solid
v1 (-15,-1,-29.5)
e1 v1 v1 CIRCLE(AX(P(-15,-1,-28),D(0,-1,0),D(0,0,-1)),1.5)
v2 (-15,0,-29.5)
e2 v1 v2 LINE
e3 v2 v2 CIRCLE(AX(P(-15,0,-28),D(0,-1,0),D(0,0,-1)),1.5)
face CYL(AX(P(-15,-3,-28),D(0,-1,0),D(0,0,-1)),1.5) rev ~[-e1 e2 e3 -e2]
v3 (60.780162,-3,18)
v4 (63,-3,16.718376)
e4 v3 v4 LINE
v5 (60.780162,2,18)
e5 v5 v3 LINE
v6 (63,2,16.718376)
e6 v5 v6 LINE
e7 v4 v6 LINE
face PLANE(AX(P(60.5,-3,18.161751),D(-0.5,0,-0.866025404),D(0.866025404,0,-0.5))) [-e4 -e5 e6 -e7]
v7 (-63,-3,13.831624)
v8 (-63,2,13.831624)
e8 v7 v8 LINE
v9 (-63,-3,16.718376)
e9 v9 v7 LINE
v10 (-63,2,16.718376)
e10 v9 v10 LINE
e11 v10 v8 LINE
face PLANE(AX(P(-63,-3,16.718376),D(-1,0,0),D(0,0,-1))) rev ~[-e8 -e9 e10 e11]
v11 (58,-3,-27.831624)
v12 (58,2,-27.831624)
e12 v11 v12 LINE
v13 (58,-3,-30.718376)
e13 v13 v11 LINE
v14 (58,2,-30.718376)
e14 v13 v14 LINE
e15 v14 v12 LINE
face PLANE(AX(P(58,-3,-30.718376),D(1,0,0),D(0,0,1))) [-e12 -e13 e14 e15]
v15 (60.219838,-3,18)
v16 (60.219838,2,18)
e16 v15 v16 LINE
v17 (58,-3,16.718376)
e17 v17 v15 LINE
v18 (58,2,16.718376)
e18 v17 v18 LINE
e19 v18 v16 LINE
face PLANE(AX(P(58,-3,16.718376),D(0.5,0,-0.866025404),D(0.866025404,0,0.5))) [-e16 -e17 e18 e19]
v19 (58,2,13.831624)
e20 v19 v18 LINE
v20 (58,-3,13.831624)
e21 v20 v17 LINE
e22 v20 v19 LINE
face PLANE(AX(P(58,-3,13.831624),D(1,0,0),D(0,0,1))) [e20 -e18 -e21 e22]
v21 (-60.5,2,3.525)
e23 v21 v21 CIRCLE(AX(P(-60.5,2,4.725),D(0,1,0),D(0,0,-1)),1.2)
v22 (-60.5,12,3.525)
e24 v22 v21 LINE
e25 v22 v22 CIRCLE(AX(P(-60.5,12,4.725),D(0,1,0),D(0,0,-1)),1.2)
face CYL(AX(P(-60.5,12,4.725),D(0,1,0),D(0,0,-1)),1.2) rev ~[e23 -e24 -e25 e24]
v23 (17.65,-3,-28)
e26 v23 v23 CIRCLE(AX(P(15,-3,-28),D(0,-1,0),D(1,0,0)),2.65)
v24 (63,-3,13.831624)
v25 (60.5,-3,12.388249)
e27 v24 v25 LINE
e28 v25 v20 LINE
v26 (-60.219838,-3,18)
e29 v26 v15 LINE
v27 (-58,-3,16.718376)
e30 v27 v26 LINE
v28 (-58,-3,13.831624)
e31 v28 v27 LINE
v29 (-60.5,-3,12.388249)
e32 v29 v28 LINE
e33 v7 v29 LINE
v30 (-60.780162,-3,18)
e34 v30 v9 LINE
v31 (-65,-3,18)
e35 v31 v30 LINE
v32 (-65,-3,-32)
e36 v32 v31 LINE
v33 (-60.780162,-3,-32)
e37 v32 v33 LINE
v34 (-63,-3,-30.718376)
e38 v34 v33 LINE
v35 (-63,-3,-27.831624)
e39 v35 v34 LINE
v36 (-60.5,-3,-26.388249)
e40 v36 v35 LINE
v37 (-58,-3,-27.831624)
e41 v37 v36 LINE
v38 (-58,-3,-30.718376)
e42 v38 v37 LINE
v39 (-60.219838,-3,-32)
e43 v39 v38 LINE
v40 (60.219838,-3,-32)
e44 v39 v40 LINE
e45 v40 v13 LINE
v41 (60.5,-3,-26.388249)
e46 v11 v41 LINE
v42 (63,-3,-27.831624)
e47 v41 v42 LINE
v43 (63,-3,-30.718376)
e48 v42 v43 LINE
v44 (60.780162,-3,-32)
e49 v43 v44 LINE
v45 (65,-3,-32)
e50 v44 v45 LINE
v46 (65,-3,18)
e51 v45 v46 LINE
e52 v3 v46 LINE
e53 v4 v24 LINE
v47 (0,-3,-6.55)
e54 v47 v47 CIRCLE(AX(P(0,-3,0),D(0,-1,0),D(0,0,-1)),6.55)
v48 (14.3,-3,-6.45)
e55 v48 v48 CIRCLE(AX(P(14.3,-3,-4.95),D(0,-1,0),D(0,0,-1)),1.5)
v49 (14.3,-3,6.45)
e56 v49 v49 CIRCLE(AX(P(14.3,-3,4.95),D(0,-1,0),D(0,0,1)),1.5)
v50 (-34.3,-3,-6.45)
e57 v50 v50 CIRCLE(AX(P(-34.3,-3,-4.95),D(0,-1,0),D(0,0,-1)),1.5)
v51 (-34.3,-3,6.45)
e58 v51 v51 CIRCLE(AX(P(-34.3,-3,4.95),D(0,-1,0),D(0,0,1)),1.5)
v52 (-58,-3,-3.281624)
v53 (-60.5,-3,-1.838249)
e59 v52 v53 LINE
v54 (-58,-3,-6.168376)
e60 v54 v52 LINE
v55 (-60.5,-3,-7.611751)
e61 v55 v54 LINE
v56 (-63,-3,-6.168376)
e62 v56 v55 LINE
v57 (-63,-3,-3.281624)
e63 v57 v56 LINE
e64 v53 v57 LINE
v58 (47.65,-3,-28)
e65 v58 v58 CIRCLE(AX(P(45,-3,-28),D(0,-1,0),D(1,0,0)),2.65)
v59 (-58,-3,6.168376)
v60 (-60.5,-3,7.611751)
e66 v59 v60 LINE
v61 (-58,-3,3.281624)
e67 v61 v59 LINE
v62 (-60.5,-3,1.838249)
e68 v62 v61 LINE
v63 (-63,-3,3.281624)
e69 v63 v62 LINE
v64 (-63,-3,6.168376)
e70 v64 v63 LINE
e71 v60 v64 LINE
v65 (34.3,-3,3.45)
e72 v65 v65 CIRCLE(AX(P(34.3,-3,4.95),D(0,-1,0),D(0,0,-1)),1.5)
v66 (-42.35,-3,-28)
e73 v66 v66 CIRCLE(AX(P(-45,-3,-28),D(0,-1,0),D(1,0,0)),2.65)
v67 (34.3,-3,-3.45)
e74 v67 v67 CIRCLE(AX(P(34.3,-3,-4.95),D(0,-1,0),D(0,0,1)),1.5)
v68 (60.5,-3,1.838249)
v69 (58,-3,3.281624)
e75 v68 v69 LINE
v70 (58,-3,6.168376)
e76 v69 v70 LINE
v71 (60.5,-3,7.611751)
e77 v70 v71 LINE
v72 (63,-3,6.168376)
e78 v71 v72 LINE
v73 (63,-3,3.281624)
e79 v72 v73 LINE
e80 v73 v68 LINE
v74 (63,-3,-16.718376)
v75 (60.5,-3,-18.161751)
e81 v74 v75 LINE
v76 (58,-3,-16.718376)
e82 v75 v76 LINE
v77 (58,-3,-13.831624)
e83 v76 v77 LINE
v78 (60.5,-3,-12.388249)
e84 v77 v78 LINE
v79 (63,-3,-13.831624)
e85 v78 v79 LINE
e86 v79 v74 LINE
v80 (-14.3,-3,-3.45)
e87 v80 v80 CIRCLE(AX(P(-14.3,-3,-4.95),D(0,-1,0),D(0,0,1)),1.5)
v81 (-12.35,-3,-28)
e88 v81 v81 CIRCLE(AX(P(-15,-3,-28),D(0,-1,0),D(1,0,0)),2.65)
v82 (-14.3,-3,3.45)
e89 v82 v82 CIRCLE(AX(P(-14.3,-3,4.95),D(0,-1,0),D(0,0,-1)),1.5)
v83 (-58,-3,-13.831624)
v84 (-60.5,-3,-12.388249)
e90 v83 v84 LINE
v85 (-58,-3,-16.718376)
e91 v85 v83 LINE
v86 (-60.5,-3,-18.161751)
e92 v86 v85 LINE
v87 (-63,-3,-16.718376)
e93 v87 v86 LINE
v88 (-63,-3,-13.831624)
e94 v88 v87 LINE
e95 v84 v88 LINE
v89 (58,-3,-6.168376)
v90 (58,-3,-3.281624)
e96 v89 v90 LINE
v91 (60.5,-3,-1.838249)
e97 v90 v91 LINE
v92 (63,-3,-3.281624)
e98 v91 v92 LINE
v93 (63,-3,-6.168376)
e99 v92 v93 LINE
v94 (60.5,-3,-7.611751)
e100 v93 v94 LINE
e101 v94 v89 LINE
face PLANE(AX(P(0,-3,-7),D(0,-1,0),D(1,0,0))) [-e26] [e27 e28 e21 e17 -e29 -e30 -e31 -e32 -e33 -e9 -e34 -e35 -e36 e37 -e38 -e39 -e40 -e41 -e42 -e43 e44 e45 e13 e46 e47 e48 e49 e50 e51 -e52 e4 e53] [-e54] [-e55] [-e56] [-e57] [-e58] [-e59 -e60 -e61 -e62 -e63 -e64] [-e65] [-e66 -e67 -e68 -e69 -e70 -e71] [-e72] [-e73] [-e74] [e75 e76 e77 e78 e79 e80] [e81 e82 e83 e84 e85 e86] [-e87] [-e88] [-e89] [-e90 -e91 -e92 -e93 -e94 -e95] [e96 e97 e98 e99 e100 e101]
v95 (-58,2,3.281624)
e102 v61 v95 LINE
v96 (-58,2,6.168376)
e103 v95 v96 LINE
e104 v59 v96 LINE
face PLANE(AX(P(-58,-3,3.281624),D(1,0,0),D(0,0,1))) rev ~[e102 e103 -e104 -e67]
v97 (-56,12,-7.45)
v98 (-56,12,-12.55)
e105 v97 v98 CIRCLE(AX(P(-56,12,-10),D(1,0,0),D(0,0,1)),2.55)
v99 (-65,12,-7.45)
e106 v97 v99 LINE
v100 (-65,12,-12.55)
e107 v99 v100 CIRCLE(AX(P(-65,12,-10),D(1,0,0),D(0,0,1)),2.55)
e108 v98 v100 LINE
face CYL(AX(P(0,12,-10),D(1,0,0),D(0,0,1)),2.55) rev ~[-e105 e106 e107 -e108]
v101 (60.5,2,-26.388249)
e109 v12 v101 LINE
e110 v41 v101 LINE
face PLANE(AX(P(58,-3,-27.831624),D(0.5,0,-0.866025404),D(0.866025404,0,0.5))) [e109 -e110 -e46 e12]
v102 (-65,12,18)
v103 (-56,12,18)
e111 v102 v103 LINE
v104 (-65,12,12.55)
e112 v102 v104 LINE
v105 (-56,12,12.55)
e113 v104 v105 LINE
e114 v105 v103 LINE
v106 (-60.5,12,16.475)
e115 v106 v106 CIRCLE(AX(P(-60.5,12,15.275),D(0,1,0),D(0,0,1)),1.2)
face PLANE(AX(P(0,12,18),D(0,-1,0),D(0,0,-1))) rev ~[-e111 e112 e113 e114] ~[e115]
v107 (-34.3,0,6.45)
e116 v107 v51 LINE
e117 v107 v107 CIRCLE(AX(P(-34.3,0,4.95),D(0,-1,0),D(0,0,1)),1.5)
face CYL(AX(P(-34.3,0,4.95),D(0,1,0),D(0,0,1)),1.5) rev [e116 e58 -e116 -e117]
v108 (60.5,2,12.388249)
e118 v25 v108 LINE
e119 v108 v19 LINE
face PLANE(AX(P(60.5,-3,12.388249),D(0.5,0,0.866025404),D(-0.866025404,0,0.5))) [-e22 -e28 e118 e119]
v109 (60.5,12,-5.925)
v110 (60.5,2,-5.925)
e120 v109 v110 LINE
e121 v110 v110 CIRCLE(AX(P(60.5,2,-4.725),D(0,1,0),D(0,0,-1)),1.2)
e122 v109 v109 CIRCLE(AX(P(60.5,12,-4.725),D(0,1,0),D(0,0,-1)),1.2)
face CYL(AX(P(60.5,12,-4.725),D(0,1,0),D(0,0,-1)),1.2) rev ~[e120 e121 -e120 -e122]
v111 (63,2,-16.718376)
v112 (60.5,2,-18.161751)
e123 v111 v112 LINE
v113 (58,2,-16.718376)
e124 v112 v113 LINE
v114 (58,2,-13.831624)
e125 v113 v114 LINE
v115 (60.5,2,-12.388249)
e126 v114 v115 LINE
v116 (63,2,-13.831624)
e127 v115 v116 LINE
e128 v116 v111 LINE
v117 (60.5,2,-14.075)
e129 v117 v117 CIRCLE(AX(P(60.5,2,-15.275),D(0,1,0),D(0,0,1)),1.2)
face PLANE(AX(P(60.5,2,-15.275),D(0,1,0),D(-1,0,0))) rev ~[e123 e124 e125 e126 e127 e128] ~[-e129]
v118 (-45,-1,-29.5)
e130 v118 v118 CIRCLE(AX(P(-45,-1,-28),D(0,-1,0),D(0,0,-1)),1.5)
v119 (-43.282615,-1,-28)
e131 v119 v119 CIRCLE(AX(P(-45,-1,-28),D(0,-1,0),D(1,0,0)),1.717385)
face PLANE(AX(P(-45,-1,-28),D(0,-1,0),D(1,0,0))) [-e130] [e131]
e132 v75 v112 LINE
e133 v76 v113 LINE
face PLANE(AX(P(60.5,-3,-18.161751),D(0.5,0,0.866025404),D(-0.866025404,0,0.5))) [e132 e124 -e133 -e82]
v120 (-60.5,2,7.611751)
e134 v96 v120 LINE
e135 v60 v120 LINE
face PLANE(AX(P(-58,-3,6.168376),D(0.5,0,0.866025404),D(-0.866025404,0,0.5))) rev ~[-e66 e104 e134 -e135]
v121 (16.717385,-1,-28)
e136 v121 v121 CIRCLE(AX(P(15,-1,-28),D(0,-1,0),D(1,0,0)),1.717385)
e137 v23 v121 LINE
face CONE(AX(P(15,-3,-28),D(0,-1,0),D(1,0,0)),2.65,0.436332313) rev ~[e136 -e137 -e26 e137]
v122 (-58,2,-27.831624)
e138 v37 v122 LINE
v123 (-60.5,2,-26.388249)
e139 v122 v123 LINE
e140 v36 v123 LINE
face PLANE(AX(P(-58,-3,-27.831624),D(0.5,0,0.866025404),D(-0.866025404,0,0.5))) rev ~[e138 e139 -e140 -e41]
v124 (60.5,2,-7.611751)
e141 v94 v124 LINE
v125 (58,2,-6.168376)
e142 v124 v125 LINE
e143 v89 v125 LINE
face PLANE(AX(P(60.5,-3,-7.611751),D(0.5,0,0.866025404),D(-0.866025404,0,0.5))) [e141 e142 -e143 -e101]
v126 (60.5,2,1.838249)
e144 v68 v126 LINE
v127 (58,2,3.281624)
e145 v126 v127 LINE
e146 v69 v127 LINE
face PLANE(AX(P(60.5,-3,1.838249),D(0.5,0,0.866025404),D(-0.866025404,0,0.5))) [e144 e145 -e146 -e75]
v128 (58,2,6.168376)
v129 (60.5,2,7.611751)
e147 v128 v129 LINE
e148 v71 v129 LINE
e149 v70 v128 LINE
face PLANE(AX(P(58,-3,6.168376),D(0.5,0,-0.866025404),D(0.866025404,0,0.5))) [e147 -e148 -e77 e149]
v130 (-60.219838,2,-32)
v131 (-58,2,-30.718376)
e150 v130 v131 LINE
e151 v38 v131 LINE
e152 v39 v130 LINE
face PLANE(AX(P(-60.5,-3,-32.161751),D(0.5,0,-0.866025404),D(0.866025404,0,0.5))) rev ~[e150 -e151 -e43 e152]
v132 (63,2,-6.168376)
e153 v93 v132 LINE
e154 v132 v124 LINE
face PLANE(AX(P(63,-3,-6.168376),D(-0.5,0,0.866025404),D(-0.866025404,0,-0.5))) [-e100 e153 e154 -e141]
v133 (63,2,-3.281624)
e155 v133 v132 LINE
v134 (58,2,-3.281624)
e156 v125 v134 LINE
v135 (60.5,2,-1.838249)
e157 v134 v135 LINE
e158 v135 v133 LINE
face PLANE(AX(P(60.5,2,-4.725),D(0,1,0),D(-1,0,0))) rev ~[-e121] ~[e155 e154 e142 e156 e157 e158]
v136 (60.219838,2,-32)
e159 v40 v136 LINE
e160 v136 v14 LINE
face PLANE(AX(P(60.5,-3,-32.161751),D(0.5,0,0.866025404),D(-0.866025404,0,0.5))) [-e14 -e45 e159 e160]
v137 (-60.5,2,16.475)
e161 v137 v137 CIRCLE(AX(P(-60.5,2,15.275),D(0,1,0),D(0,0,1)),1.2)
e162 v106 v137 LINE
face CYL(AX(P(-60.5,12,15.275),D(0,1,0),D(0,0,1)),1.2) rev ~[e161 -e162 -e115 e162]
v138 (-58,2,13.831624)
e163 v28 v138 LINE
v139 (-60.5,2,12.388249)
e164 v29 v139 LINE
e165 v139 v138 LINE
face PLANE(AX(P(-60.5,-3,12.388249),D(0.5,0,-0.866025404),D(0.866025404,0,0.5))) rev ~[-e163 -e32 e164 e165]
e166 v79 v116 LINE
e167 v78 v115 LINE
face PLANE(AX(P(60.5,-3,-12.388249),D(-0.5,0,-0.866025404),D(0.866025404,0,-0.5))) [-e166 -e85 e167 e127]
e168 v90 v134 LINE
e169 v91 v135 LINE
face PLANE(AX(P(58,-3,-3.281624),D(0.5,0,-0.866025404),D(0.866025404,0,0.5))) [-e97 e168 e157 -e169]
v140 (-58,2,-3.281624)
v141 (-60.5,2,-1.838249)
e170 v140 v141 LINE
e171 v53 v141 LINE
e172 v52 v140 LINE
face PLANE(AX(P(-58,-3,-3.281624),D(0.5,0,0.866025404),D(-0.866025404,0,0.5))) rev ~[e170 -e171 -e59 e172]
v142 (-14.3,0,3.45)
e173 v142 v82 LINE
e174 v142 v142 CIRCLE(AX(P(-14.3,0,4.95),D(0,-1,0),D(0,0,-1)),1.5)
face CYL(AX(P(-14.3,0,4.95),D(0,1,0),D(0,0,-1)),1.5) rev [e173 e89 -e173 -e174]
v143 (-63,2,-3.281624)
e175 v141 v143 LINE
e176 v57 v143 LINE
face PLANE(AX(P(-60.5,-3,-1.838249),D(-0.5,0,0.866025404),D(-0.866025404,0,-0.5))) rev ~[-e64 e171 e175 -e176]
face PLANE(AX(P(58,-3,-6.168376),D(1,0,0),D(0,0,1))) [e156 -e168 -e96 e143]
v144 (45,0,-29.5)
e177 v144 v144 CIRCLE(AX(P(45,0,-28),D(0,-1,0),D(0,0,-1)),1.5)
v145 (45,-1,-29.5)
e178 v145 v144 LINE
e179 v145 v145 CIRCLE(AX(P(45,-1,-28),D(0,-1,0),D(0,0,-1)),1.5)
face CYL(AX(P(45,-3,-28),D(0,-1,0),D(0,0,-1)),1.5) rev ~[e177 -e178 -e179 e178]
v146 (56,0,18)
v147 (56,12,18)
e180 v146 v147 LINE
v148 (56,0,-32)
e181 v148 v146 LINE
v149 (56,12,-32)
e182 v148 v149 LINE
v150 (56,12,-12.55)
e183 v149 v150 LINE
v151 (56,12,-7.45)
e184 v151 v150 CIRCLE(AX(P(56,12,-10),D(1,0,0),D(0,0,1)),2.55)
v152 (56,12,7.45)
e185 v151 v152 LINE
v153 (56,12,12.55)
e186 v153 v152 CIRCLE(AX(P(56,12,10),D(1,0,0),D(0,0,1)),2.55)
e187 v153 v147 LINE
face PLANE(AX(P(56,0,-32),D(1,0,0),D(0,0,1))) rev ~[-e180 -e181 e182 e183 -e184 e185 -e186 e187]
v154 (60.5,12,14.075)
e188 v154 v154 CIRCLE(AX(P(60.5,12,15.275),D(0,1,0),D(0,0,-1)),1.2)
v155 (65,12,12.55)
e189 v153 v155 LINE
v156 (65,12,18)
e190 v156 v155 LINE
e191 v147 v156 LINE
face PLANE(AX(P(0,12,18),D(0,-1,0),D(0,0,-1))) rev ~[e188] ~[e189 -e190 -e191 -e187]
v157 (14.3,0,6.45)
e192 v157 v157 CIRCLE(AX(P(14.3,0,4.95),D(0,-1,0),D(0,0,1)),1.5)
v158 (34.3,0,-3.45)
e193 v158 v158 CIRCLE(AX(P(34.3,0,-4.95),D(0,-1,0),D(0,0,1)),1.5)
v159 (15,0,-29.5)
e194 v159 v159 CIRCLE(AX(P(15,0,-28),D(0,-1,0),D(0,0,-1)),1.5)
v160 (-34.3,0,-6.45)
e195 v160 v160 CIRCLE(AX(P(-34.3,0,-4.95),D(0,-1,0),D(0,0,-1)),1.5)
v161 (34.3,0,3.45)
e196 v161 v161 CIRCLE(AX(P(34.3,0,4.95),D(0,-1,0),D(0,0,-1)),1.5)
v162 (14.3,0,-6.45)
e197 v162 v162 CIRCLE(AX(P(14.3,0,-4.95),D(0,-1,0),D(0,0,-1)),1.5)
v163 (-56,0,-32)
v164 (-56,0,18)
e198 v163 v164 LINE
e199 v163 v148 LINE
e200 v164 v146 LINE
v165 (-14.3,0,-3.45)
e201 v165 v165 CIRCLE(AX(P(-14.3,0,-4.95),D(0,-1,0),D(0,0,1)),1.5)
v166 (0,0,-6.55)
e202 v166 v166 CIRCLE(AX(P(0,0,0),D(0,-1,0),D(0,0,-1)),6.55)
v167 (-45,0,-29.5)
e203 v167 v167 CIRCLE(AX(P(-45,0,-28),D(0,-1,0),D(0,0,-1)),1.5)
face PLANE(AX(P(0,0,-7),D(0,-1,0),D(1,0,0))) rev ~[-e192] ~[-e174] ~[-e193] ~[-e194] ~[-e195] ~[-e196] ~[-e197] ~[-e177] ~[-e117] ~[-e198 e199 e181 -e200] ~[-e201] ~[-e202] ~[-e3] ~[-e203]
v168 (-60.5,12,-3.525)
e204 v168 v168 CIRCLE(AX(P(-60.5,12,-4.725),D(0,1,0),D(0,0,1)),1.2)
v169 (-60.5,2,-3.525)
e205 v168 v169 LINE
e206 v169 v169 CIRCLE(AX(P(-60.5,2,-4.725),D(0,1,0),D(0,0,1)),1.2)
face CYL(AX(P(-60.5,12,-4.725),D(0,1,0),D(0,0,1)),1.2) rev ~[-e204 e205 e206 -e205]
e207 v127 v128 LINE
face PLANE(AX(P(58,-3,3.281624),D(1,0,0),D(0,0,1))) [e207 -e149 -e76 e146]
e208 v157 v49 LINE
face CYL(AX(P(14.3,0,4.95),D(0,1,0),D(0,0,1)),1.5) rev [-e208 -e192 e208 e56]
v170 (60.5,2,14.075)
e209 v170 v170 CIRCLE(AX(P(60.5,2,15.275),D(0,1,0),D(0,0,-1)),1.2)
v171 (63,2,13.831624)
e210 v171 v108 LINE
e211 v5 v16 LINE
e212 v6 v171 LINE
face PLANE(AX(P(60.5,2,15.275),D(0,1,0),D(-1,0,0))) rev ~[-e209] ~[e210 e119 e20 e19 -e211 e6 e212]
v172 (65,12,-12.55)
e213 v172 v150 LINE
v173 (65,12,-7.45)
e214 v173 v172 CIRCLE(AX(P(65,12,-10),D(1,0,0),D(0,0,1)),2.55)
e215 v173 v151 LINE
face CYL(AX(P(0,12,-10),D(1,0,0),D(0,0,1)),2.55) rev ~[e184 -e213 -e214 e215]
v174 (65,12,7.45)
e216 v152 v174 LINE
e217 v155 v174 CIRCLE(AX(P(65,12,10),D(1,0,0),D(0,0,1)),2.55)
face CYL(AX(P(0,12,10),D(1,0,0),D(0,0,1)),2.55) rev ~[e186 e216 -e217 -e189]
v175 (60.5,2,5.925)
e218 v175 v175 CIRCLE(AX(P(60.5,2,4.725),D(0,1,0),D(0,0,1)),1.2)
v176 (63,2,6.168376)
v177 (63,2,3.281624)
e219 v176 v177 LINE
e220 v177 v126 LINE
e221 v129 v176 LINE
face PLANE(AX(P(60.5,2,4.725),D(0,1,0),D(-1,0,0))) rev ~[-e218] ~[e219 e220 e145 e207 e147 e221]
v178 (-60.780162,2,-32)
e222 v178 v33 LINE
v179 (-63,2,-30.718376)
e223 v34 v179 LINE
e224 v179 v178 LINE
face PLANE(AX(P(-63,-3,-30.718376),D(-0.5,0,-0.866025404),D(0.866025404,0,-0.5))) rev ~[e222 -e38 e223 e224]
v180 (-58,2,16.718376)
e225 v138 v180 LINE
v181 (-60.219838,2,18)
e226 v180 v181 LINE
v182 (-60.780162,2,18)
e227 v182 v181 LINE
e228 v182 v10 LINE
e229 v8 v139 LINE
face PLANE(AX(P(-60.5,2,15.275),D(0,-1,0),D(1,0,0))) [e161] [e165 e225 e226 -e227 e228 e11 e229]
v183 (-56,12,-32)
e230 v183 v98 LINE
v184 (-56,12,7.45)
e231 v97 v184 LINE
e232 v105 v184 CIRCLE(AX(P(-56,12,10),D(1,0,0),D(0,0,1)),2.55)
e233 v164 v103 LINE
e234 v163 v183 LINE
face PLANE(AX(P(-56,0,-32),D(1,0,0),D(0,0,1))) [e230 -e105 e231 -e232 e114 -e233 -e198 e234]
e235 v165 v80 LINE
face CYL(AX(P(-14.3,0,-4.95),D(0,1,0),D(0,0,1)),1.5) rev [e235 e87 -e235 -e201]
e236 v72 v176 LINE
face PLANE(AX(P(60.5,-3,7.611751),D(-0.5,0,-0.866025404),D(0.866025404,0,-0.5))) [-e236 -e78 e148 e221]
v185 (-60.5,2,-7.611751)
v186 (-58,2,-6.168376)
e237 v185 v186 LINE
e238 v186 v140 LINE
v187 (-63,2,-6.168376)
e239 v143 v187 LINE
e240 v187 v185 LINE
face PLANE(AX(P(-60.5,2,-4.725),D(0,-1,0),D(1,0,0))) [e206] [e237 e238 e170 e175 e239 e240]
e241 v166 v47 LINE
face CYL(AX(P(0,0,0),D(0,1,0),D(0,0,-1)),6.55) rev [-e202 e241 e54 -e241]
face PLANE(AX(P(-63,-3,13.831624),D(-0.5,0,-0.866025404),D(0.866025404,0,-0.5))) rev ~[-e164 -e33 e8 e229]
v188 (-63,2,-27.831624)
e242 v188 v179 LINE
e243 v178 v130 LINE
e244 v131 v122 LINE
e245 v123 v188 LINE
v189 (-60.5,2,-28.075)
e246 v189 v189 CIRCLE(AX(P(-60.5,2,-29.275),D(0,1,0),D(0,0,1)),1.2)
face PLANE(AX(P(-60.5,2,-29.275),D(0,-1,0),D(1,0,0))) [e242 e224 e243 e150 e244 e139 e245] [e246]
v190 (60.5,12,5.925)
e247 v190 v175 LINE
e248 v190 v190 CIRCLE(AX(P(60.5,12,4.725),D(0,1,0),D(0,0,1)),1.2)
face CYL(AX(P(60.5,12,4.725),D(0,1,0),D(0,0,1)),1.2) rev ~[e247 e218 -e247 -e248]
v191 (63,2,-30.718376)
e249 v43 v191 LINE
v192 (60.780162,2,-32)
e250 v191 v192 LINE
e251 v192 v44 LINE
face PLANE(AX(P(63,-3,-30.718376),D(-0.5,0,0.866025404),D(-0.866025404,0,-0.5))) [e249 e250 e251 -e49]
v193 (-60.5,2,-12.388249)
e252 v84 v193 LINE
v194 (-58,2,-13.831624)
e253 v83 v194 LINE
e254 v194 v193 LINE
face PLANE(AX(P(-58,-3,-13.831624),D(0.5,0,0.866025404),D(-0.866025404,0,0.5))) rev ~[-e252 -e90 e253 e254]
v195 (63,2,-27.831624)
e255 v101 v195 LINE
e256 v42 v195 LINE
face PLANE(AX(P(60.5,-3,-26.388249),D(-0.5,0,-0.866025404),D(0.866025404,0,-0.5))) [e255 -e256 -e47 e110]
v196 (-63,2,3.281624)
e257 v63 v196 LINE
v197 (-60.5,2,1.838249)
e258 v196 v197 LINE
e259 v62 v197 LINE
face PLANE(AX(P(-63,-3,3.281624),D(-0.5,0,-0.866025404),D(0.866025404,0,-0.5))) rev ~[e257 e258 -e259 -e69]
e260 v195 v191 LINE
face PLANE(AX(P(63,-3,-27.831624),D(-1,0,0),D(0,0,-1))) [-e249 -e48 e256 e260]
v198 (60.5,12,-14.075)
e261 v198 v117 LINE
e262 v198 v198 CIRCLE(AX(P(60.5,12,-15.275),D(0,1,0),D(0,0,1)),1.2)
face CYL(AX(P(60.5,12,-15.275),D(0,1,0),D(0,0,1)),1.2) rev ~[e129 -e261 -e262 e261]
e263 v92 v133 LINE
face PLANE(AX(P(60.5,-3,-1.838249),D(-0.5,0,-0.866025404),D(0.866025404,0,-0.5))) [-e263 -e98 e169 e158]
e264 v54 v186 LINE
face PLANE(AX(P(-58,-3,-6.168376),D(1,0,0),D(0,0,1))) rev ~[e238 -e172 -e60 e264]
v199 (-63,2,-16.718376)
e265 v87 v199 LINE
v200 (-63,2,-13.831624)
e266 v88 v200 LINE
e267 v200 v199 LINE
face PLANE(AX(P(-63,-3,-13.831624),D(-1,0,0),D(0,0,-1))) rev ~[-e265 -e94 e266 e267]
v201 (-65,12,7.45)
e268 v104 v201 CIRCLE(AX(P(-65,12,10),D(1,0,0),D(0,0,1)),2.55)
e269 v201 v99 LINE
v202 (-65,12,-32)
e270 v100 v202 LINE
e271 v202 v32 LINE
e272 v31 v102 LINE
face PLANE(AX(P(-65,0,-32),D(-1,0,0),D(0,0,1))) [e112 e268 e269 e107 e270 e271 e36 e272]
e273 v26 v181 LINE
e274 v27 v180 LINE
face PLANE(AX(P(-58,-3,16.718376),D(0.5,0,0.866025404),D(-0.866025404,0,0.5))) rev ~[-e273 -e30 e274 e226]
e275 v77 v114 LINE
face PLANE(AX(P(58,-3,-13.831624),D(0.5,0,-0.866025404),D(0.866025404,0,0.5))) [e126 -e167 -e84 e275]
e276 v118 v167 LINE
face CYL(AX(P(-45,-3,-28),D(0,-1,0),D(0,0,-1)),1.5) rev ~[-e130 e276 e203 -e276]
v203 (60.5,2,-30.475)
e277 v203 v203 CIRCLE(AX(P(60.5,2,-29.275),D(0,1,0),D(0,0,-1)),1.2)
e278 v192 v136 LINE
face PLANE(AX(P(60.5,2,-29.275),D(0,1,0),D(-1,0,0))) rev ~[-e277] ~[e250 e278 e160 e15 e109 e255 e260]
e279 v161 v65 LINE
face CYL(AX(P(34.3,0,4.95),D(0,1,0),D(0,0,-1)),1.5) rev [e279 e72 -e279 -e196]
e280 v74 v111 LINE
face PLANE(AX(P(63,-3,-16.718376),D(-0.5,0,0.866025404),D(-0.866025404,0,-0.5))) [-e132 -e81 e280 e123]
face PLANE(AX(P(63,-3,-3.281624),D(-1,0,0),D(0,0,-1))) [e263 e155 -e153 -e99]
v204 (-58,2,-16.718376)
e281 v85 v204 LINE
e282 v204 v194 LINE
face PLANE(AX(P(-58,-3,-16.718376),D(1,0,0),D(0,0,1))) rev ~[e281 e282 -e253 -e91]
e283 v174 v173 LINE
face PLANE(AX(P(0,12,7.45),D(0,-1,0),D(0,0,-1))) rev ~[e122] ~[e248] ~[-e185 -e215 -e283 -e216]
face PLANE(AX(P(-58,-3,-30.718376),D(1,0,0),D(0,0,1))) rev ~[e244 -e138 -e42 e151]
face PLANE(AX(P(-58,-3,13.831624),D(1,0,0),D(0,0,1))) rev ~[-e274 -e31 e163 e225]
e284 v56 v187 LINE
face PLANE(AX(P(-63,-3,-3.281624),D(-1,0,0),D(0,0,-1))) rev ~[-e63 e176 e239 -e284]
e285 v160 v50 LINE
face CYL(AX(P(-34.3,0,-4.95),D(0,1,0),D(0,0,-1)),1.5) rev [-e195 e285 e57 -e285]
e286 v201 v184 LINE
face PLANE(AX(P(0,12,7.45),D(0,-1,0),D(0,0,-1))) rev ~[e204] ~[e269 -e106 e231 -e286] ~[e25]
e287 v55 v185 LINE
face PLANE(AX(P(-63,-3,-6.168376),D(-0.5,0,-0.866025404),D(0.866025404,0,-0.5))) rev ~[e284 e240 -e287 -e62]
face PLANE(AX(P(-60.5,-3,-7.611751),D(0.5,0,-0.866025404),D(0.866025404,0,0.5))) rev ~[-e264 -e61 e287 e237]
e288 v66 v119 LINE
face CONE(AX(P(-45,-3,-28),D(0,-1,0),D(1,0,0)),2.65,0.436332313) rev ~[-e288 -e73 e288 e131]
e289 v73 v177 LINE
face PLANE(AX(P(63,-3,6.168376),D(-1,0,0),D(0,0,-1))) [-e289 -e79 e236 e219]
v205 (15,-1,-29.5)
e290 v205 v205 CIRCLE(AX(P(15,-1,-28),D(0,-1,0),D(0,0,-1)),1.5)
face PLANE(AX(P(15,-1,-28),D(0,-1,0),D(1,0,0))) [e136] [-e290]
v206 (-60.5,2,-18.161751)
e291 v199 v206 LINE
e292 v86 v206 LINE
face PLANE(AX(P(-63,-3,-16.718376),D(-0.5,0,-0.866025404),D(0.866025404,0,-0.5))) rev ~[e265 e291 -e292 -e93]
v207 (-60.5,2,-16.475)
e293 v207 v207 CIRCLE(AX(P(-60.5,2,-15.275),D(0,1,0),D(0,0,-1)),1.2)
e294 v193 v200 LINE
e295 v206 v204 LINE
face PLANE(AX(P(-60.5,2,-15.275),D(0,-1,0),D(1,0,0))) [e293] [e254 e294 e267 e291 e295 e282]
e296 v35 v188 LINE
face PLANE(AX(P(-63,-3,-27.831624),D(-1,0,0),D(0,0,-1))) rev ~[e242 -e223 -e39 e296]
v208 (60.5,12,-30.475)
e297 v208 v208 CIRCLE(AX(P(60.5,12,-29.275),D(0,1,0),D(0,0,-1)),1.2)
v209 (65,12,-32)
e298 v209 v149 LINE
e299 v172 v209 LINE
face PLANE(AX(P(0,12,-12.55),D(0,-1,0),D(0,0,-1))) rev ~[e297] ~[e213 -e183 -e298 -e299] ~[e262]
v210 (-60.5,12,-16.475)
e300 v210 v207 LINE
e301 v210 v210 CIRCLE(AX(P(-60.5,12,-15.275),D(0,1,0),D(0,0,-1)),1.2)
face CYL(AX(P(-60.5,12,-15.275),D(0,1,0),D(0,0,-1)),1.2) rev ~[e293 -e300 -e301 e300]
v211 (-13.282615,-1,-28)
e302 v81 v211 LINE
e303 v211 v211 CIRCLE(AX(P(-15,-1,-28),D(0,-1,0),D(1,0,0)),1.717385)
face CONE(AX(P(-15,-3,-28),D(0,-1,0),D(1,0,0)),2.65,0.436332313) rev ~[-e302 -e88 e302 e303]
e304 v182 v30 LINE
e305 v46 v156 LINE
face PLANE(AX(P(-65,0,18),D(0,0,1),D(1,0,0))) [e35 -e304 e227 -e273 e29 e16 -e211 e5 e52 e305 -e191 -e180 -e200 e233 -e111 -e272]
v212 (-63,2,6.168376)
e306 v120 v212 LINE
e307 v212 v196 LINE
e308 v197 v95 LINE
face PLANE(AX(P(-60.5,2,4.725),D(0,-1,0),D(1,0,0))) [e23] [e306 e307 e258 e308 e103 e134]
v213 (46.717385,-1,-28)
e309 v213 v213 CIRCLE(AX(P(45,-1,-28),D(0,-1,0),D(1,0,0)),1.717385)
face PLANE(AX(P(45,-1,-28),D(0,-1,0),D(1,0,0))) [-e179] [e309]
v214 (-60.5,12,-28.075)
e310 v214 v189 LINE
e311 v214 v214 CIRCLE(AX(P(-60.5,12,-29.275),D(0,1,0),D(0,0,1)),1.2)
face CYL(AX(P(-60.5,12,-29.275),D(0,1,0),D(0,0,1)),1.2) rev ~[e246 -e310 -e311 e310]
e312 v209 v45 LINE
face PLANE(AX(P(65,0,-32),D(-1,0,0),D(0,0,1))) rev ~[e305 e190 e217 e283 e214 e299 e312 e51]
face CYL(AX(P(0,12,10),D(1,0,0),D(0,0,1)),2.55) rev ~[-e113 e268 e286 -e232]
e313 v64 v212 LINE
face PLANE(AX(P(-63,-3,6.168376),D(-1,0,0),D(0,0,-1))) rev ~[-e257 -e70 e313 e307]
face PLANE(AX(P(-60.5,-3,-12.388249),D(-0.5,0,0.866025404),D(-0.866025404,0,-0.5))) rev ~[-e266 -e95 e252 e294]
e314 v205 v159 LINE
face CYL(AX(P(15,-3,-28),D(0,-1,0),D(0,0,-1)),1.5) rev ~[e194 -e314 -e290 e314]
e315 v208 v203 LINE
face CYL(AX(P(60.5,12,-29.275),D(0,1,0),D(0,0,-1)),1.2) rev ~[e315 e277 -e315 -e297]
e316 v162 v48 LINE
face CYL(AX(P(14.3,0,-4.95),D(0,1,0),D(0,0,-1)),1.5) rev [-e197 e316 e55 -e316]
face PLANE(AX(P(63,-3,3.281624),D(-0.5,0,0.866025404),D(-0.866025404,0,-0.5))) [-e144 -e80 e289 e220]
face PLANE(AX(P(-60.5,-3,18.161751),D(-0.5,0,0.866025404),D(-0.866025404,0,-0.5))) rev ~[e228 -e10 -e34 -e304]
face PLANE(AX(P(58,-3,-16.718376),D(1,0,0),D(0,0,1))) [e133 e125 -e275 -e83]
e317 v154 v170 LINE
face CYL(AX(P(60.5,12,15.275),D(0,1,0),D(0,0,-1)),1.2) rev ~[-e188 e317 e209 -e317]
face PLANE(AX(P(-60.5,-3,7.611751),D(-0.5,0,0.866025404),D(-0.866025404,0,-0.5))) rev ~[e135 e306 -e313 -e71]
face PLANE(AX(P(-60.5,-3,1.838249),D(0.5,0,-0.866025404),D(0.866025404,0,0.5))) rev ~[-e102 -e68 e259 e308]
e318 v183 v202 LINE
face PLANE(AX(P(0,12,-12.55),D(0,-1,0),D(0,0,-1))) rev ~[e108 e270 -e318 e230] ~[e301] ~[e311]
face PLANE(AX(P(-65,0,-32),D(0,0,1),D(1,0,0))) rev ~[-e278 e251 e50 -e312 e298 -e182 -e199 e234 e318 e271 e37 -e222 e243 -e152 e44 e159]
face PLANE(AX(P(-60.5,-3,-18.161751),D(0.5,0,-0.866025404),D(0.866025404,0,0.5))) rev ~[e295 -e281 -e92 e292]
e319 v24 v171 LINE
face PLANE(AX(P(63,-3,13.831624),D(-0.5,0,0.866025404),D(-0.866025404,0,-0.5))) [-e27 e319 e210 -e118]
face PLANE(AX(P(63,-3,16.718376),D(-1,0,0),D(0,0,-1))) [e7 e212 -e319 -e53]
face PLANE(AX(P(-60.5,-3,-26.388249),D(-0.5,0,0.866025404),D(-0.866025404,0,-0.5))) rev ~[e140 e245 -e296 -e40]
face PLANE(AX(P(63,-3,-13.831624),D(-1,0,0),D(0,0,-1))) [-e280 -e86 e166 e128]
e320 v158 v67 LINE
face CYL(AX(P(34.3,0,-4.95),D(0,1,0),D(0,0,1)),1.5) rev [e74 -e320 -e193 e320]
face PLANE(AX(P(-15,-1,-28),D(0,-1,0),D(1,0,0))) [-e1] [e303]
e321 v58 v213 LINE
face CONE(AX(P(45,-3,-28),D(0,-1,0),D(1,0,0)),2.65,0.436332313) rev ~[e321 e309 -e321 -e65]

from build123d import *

# Parameters (mm, degrees)
EXTRUDE_1_DEPTH               = 65
SKETCH_4_W                    = 112
SKETCH_4_H                    = 50
CUT_EXTRUDE_1_DEPTH           = 20
SKETCH_5_W                    = 130
SKETCH_5_H                    = 50
SKETCH_5_R                    = 6.55
SKETCH_5_R_2                  = 1.5
EXTRUDE_2_DEPTH               = 3
SKETCH_6_R                    = 1.2
CUT_EXTRUDE_2_DEPTH           = 20
SKETCH_7_R                    = 1.5
CUT_EXTRUDE_3_DEPTH           = 20
SKETCH_8_R                    = 2.65
CUT_EXTRUDE_4_DEPTH           = 2
CUT_EXTRUDE_4_DRAFT           = -25
CUT_EXTRUDE_4_PROFILE_2_DEPTH = 2
CUT_EXTRUDE_4_PROFILE_2_DRAFT = -25
CUT_EXTRUDE_4_PROFILE_3_DEPTH = 2
CUT_EXTRUDE_4_PROFILE_3_DRAFT = -25
CUT_EXTRUDE_4_PROFILE_4_DEPTH = 2
CUT_EXTRUDE_4_PROFILE_4_DRAFT = -25
CUT_EXTRUDE_5_DEPTH           = 5


with BuildPart() as part:
    # 草图2 → 凸台-拉伸1 (new, symmetric)
    with BuildSketch(Plane(origin=(0, 0, 0), x_dir=(0, 0, -1), z_dir=(1, 0, 0))):
        with BuildLine():
            Line((-7.45, 12), (7.45, 12))
            ThreePointArc((7.45, 12), (10, 9.45), (12.55, 12))
            Line((12.55, 12), (32, 12))
            Line((32, 12), (32, 0))
            Line((32, 0), (-18, 0))
            Line((-18, 0), (-18, 12))
            Line((-18, 12), (-12.55, 12))
            ThreePointArc((-12.55, 12), (-10, 9.45), (-7.45, 12))
        make_face()
    extrude(amount=EXTRUDE_1_DEPTH, both=True)

    # 草图4 → 切除-拉伸1 (cut)
    with BuildSketch(Plane.XZ):
        with Locations((0, -7)):
            Rectangle(SKETCH_4_W, SKETCH_4_H)
    extrude(amount=-CUT_EXTRUDE_1_DEPTH, mode=Mode.SUBTRACT)


with BuildPart() as cut_extrude_1_piece_1:
    # of the separate pieces the step leaves, piece 1, a body of its own (cut_extrude_1_pieces)
    add(part.part.solids().sort_by_distance((-65, 12, 7.45))[0])



with BuildPart() as cut_extrude_1_piece_2:
    # of the separate pieces the step leaves, piece 2, a body of its own (cut_extrude_1_pieces)
    add(part.part.solids().sort_by_distance((56, 12, 7.45))[0])


with BuildPart() as cut_extrude_1_piece_1_1:
    add(cut_extrude_1_piece_1.part)

    add(cut_extrude_1_piece_2.part)  # 凸台-拉伸2 merges 切除-拉伸1 piece 2
    # 草图5 → 凸台-拉伸2 (add)
    with BuildSketch(Plane.XZ):
        with Locations((0, -7)):
            Rectangle(SKETCH_5_W, SKETCH_5_H)
        with Locations(Location((0, 0, 0), (0, 0, 270))):
            Circle(SKETCH_5_R, mode=Mode.SUBTRACT)
        with Locations(Location((-14.3, 4.95, 0), (0, 0, 270))):
            Circle(SKETCH_5_R_2, mode=Mode.SUBTRACT)
        with Locations(Location((34.3, -4.95, 0), (0, 0, 90))):
            Circle(SKETCH_5_R_2, mode=Mode.SUBTRACT)
        with Locations(Location((34.3, 4.95, 0), (0, 0, 270))):
            Circle(SKETCH_5_R_2, mode=Mode.SUBTRACT)
        with Locations(Location((-14.3, -4.95, 0), (0, 0, 90))):
            Circle(SKETCH_5_R_2, mode=Mode.SUBTRACT)
        with Locations(Location((-34.3, 4.95, 0), (0, 0, 90))):
            Circle(SKETCH_5_R_2, mode=Mode.SUBTRACT)
        with Locations(Location((-34.3, -4.95, 0), (0, 0, 270))):
            Circle(SKETCH_5_R_2, mode=Mode.SUBTRACT)
        with Locations(Location((14.3, -4.95, 0), (0, 0, 270))):
            Circle(SKETCH_5_R_2, mode=Mode.SUBTRACT)
        with Locations(Location((14.3, 4.95, 0), (0, 0, 90))):
            Circle(SKETCH_5_R_2, mode=Mode.SUBTRACT)
    extrude(amount=EXTRUDE_2_DEPTH)

    # 草图6 → 切除-拉伸2 (cut)
    with BuildSketch(Plane(origin=(0, 12, 0), x_dir=(1, 0, 0), z_dir=(0, 1, 0))):
        with Locations(Location((-60.5, -15.275, 0), (0, 0, 270))):
            Circle(SKETCH_6_R)
        with Locations(Location((-60.5, -4.725, 0), (0, 0, 90))):
            Circle(SKETCH_6_R)
        with Locations(Location((-60.5, 15.275, 0), (0, 0, 90))):
            Circle(SKETCH_6_R)
        with Locations(Location((-60.5, 4.725, 0), (0, 0, 270))):
            Circle(SKETCH_6_R)
        with Locations(Location((-60.5, 29.275, 0), (0, 0, 270))):
            Circle(SKETCH_6_R)
        with Locations(Location((60.5, 29.275, 0), (0, 0, 90))):
            Circle(SKETCH_6_R)
        with Locations(Location((60.5, 4.725, 0), (0, 0, 90))):
            Circle(SKETCH_6_R)
        with Locations(Location((60.5, 15.275, 0), (0, 0, 270))):
            Circle(SKETCH_6_R)
        with Locations(Location((60.5, -4.725, 0), (0, 0, 270))):
            Circle(SKETCH_6_R)
        with Locations(Location((60.5, -15.275, 0), (0, 0, 90))):
            Circle(SKETCH_6_R)
    extrude(amount=-CUT_EXTRUDE_2_DEPTH, mode=Mode.SUBTRACT)

    # 草图7 → 切除-拉伸3 (cut)
    with BuildSketch(Plane.XZ.offset(3)):
        with Locations(Location((-15, -28, 0), (0, 0, 270))):
            Circle(SKETCH_7_R)
        with Locations(Location((-45, -28, 0), (0, 0, 270))):
            Circle(SKETCH_7_R)
        with Locations(Location((45, -28, 0), (0, 0, 270))):
            Circle(SKETCH_7_R)
        with Locations(Location((15, -28, 0), (0, 0, 270))):
            Circle(SKETCH_7_R)
    extrude(amount=-CUT_EXTRUDE_3_DEPTH, mode=Mode.SUBTRACT)


with BuildPart() as cut_extrude_4_tool:
    # 草图8 → 切除-拉伸4 (with draft: the straight prism first)
    with BuildSketch(Plane.XZ.offset(3)):
        with Locations((-45, -28)):
            Circle(SKETCH_8_R)
    extrude(amount=-CUT_EXTRUDE_4_DEPTH)
    # 切除-拉伸4: the draft: its side faces are tilted about the plane it starts from
    cut_extrude_4_sides = [cut_extrude_4_tool.faces().sort_by_distance(p)[0] for p in [
        (-47.65, -2, -28),
    ]]
    draft(cut_extrude_4_sides, Plane.XZ.offset(3), CUT_EXTRUDE_4_DRAFT)


with BuildPart() as cut_extrude_1_piece_1_2:
    add(cut_extrude_1_piece_1_1.part)

    # 切除-拉伸4: cut by cut_extrude_4_tool
    add(cut_extrude_4_tool.part, mode=Mode.SUBTRACT)


with BuildPart() as cut_extrude_4_profile_2_tool:
    # 草图8 → 切除-拉伸4 profile 2 (with draft: the straight prism first)
    with BuildSketch(Plane.XZ.offset(3)):
        with Locations((-15, -28)):
            Circle(SKETCH_8_R)
    extrude(amount=-CUT_EXTRUDE_4_PROFILE_2_DEPTH)
    # 切除-拉伸4 profile 2: the draft: its side faces are tilted about the plane it starts from
    cut_extrude_4_profile_2_sides = [cut_extrude_4_profile_2_tool.faces().sort_by_distance(p)[0] for p in [
        (-17.65, -2, -28),
    ]]
    draft(cut_extrude_4_profile_2_sides, Plane.XZ.offset(3), CUT_EXTRUDE_4_PROFILE_2_DRAFT)


with BuildPart() as cut_extrude_1_piece_1_3:
    add(cut_extrude_1_piece_1_2.part)

    # 切除-拉伸4 profile 2: cut by cut_extrude_4_profile_2_tool
    add(cut_extrude_4_profile_2_tool.part, mode=Mode.SUBTRACT)


with BuildPart() as cut_extrude_4_profile_3_tool:
    # 草图8 → 切除-拉伸4 profile 3 (with draft: the straight prism first)
    with BuildSketch(Plane.XZ.offset(3)):
        with Locations((15, -28)):
            Circle(SKETCH_8_R)
    extrude(amount=-CUT_EXTRUDE_4_PROFILE_3_DEPTH)
    # 切除-拉伸4 profile 3: the draft: its side faces are tilted about the plane it starts from
    cut_extrude_4_profile_3_sides = [cut_extrude_4_profile_3_tool.faces().sort_by_distance(p)[0] for p in [
        (12.35, -2, -28),
    ]]
    draft(cut_extrude_4_profile_3_sides, Plane.XZ.offset(3), CUT_EXTRUDE_4_PROFILE_3_DRAFT)


with BuildPart() as cut_extrude_1_piece_1_4:
    add(cut_extrude_1_piece_1_3.part)

    # 切除-拉伸4 profile 3: cut by cut_extrude_4_profile_3_tool
    add(cut_extrude_4_profile_3_tool.part, mode=Mode.SUBTRACT)


with BuildPart() as cut_extrude_4_profile_4_tool:
    # 草图8 → 切除-拉伸4 profile 4 (with draft: the straight prism first)
    with BuildSketch(Plane.XZ.offset(3)):
        with Locations((45, -28)):
            Circle(SKETCH_8_R)
    extrude(amount=-CUT_EXTRUDE_4_PROFILE_4_DEPTH)
    # 切除-拉伸4 profile 4: the draft: its side faces are tilted about the plane it starts from
    cut_extrude_4_profile_4_sides = [cut_extrude_4_profile_4_tool.faces().sort_by_distance(p)[0] for p in [
        (42.35, -2, -28),
    ]]
    draft(cut_extrude_4_profile_4_sides, Plane.XZ.offset(3), CUT_EXTRUDE_4_PROFILE_4_DRAFT)


with BuildPart() as cut_extrude_1_piece_1_5:
    add(cut_extrude_1_piece_1_4.part)

    # 切除-拉伸4 profile 4: cut by cut_extrude_4_profile_4_tool
    add(cut_extrude_4_profile_4_tool.part, mode=Mode.SUBTRACT)

    # 草图9 → 切除-拉伸5 (cut)
    with BuildSketch(Plane.XZ.offset(3)):
        Polygon((-58, -3.281624327), (-60.5, -1.838248654), (-63, -3.281624327), (-63, -6.168375673), (-60.5, -7.611751346), (-58, -6.168375673), align=None)
        Polygon((-58, -13.831624327), (-60.5, -12.388248654), (-63, -13.831624327), (-63, -16.718375673), (-60.5, -18.161751346), (-58, -16.718375673), align=None)
        Polygon((-58, -27.831624327), (-60.5, -26.388248654), (-63, -27.831624327), (-63, -30.718375673), (-60.5, -32.161751346), (-58, -30.718375673), align=None)
        Polygon((-58, 6.168375673), (-60.5, 7.611751346), (-63, 6.168375673), (-63, 3.281624327), (-60.5, 1.838248654), (-58, 3.281624327), align=None)
        Polygon((-58, 13.831624327), (-58, 16.718375673), (-60.5, 18.161751346), (-63, 16.718375673), (-63, 13.831624327), (-60.5, 12.388248654), align=None)
        Polygon((60.5, 12.388248654), (58, 13.831624327), (58, 16.718375673), (60.5, 18.161751346), (63, 16.718375673), (63, 13.831624327), align=None)
        Polygon((58, 3.281624327), (58, 6.168375673), (60.5, 7.611751346), (63, 6.168375673), (63, 3.281624327), (60.5, 1.838248654), align=None)
        Polygon((58, -30.718375673), (58, -27.831624327), (60.5, -26.388248654), (63, -27.831624327), (63, -30.718375673), (60.5, -32.161751346), align=None)
        Polygon((58, -16.718375673), (58, -13.831624327), (60.5, -12.388248654), (63, -13.831624327), (63, -16.718375673), (60.5, -18.161751346), align=None)
        Polygon((58, -6.168375673), (58, -3.281624327), (60.5, -1.838248654), (63, -3.281624327), (63, -6.168375673), (60.5, -7.611751346), align=None)
    extrude(amount=-CUT_EXTRUDE_5_DEPTH, mode=Mode.SUBTRACT)


solid = cut_extrude_1_piece_1_5.part
